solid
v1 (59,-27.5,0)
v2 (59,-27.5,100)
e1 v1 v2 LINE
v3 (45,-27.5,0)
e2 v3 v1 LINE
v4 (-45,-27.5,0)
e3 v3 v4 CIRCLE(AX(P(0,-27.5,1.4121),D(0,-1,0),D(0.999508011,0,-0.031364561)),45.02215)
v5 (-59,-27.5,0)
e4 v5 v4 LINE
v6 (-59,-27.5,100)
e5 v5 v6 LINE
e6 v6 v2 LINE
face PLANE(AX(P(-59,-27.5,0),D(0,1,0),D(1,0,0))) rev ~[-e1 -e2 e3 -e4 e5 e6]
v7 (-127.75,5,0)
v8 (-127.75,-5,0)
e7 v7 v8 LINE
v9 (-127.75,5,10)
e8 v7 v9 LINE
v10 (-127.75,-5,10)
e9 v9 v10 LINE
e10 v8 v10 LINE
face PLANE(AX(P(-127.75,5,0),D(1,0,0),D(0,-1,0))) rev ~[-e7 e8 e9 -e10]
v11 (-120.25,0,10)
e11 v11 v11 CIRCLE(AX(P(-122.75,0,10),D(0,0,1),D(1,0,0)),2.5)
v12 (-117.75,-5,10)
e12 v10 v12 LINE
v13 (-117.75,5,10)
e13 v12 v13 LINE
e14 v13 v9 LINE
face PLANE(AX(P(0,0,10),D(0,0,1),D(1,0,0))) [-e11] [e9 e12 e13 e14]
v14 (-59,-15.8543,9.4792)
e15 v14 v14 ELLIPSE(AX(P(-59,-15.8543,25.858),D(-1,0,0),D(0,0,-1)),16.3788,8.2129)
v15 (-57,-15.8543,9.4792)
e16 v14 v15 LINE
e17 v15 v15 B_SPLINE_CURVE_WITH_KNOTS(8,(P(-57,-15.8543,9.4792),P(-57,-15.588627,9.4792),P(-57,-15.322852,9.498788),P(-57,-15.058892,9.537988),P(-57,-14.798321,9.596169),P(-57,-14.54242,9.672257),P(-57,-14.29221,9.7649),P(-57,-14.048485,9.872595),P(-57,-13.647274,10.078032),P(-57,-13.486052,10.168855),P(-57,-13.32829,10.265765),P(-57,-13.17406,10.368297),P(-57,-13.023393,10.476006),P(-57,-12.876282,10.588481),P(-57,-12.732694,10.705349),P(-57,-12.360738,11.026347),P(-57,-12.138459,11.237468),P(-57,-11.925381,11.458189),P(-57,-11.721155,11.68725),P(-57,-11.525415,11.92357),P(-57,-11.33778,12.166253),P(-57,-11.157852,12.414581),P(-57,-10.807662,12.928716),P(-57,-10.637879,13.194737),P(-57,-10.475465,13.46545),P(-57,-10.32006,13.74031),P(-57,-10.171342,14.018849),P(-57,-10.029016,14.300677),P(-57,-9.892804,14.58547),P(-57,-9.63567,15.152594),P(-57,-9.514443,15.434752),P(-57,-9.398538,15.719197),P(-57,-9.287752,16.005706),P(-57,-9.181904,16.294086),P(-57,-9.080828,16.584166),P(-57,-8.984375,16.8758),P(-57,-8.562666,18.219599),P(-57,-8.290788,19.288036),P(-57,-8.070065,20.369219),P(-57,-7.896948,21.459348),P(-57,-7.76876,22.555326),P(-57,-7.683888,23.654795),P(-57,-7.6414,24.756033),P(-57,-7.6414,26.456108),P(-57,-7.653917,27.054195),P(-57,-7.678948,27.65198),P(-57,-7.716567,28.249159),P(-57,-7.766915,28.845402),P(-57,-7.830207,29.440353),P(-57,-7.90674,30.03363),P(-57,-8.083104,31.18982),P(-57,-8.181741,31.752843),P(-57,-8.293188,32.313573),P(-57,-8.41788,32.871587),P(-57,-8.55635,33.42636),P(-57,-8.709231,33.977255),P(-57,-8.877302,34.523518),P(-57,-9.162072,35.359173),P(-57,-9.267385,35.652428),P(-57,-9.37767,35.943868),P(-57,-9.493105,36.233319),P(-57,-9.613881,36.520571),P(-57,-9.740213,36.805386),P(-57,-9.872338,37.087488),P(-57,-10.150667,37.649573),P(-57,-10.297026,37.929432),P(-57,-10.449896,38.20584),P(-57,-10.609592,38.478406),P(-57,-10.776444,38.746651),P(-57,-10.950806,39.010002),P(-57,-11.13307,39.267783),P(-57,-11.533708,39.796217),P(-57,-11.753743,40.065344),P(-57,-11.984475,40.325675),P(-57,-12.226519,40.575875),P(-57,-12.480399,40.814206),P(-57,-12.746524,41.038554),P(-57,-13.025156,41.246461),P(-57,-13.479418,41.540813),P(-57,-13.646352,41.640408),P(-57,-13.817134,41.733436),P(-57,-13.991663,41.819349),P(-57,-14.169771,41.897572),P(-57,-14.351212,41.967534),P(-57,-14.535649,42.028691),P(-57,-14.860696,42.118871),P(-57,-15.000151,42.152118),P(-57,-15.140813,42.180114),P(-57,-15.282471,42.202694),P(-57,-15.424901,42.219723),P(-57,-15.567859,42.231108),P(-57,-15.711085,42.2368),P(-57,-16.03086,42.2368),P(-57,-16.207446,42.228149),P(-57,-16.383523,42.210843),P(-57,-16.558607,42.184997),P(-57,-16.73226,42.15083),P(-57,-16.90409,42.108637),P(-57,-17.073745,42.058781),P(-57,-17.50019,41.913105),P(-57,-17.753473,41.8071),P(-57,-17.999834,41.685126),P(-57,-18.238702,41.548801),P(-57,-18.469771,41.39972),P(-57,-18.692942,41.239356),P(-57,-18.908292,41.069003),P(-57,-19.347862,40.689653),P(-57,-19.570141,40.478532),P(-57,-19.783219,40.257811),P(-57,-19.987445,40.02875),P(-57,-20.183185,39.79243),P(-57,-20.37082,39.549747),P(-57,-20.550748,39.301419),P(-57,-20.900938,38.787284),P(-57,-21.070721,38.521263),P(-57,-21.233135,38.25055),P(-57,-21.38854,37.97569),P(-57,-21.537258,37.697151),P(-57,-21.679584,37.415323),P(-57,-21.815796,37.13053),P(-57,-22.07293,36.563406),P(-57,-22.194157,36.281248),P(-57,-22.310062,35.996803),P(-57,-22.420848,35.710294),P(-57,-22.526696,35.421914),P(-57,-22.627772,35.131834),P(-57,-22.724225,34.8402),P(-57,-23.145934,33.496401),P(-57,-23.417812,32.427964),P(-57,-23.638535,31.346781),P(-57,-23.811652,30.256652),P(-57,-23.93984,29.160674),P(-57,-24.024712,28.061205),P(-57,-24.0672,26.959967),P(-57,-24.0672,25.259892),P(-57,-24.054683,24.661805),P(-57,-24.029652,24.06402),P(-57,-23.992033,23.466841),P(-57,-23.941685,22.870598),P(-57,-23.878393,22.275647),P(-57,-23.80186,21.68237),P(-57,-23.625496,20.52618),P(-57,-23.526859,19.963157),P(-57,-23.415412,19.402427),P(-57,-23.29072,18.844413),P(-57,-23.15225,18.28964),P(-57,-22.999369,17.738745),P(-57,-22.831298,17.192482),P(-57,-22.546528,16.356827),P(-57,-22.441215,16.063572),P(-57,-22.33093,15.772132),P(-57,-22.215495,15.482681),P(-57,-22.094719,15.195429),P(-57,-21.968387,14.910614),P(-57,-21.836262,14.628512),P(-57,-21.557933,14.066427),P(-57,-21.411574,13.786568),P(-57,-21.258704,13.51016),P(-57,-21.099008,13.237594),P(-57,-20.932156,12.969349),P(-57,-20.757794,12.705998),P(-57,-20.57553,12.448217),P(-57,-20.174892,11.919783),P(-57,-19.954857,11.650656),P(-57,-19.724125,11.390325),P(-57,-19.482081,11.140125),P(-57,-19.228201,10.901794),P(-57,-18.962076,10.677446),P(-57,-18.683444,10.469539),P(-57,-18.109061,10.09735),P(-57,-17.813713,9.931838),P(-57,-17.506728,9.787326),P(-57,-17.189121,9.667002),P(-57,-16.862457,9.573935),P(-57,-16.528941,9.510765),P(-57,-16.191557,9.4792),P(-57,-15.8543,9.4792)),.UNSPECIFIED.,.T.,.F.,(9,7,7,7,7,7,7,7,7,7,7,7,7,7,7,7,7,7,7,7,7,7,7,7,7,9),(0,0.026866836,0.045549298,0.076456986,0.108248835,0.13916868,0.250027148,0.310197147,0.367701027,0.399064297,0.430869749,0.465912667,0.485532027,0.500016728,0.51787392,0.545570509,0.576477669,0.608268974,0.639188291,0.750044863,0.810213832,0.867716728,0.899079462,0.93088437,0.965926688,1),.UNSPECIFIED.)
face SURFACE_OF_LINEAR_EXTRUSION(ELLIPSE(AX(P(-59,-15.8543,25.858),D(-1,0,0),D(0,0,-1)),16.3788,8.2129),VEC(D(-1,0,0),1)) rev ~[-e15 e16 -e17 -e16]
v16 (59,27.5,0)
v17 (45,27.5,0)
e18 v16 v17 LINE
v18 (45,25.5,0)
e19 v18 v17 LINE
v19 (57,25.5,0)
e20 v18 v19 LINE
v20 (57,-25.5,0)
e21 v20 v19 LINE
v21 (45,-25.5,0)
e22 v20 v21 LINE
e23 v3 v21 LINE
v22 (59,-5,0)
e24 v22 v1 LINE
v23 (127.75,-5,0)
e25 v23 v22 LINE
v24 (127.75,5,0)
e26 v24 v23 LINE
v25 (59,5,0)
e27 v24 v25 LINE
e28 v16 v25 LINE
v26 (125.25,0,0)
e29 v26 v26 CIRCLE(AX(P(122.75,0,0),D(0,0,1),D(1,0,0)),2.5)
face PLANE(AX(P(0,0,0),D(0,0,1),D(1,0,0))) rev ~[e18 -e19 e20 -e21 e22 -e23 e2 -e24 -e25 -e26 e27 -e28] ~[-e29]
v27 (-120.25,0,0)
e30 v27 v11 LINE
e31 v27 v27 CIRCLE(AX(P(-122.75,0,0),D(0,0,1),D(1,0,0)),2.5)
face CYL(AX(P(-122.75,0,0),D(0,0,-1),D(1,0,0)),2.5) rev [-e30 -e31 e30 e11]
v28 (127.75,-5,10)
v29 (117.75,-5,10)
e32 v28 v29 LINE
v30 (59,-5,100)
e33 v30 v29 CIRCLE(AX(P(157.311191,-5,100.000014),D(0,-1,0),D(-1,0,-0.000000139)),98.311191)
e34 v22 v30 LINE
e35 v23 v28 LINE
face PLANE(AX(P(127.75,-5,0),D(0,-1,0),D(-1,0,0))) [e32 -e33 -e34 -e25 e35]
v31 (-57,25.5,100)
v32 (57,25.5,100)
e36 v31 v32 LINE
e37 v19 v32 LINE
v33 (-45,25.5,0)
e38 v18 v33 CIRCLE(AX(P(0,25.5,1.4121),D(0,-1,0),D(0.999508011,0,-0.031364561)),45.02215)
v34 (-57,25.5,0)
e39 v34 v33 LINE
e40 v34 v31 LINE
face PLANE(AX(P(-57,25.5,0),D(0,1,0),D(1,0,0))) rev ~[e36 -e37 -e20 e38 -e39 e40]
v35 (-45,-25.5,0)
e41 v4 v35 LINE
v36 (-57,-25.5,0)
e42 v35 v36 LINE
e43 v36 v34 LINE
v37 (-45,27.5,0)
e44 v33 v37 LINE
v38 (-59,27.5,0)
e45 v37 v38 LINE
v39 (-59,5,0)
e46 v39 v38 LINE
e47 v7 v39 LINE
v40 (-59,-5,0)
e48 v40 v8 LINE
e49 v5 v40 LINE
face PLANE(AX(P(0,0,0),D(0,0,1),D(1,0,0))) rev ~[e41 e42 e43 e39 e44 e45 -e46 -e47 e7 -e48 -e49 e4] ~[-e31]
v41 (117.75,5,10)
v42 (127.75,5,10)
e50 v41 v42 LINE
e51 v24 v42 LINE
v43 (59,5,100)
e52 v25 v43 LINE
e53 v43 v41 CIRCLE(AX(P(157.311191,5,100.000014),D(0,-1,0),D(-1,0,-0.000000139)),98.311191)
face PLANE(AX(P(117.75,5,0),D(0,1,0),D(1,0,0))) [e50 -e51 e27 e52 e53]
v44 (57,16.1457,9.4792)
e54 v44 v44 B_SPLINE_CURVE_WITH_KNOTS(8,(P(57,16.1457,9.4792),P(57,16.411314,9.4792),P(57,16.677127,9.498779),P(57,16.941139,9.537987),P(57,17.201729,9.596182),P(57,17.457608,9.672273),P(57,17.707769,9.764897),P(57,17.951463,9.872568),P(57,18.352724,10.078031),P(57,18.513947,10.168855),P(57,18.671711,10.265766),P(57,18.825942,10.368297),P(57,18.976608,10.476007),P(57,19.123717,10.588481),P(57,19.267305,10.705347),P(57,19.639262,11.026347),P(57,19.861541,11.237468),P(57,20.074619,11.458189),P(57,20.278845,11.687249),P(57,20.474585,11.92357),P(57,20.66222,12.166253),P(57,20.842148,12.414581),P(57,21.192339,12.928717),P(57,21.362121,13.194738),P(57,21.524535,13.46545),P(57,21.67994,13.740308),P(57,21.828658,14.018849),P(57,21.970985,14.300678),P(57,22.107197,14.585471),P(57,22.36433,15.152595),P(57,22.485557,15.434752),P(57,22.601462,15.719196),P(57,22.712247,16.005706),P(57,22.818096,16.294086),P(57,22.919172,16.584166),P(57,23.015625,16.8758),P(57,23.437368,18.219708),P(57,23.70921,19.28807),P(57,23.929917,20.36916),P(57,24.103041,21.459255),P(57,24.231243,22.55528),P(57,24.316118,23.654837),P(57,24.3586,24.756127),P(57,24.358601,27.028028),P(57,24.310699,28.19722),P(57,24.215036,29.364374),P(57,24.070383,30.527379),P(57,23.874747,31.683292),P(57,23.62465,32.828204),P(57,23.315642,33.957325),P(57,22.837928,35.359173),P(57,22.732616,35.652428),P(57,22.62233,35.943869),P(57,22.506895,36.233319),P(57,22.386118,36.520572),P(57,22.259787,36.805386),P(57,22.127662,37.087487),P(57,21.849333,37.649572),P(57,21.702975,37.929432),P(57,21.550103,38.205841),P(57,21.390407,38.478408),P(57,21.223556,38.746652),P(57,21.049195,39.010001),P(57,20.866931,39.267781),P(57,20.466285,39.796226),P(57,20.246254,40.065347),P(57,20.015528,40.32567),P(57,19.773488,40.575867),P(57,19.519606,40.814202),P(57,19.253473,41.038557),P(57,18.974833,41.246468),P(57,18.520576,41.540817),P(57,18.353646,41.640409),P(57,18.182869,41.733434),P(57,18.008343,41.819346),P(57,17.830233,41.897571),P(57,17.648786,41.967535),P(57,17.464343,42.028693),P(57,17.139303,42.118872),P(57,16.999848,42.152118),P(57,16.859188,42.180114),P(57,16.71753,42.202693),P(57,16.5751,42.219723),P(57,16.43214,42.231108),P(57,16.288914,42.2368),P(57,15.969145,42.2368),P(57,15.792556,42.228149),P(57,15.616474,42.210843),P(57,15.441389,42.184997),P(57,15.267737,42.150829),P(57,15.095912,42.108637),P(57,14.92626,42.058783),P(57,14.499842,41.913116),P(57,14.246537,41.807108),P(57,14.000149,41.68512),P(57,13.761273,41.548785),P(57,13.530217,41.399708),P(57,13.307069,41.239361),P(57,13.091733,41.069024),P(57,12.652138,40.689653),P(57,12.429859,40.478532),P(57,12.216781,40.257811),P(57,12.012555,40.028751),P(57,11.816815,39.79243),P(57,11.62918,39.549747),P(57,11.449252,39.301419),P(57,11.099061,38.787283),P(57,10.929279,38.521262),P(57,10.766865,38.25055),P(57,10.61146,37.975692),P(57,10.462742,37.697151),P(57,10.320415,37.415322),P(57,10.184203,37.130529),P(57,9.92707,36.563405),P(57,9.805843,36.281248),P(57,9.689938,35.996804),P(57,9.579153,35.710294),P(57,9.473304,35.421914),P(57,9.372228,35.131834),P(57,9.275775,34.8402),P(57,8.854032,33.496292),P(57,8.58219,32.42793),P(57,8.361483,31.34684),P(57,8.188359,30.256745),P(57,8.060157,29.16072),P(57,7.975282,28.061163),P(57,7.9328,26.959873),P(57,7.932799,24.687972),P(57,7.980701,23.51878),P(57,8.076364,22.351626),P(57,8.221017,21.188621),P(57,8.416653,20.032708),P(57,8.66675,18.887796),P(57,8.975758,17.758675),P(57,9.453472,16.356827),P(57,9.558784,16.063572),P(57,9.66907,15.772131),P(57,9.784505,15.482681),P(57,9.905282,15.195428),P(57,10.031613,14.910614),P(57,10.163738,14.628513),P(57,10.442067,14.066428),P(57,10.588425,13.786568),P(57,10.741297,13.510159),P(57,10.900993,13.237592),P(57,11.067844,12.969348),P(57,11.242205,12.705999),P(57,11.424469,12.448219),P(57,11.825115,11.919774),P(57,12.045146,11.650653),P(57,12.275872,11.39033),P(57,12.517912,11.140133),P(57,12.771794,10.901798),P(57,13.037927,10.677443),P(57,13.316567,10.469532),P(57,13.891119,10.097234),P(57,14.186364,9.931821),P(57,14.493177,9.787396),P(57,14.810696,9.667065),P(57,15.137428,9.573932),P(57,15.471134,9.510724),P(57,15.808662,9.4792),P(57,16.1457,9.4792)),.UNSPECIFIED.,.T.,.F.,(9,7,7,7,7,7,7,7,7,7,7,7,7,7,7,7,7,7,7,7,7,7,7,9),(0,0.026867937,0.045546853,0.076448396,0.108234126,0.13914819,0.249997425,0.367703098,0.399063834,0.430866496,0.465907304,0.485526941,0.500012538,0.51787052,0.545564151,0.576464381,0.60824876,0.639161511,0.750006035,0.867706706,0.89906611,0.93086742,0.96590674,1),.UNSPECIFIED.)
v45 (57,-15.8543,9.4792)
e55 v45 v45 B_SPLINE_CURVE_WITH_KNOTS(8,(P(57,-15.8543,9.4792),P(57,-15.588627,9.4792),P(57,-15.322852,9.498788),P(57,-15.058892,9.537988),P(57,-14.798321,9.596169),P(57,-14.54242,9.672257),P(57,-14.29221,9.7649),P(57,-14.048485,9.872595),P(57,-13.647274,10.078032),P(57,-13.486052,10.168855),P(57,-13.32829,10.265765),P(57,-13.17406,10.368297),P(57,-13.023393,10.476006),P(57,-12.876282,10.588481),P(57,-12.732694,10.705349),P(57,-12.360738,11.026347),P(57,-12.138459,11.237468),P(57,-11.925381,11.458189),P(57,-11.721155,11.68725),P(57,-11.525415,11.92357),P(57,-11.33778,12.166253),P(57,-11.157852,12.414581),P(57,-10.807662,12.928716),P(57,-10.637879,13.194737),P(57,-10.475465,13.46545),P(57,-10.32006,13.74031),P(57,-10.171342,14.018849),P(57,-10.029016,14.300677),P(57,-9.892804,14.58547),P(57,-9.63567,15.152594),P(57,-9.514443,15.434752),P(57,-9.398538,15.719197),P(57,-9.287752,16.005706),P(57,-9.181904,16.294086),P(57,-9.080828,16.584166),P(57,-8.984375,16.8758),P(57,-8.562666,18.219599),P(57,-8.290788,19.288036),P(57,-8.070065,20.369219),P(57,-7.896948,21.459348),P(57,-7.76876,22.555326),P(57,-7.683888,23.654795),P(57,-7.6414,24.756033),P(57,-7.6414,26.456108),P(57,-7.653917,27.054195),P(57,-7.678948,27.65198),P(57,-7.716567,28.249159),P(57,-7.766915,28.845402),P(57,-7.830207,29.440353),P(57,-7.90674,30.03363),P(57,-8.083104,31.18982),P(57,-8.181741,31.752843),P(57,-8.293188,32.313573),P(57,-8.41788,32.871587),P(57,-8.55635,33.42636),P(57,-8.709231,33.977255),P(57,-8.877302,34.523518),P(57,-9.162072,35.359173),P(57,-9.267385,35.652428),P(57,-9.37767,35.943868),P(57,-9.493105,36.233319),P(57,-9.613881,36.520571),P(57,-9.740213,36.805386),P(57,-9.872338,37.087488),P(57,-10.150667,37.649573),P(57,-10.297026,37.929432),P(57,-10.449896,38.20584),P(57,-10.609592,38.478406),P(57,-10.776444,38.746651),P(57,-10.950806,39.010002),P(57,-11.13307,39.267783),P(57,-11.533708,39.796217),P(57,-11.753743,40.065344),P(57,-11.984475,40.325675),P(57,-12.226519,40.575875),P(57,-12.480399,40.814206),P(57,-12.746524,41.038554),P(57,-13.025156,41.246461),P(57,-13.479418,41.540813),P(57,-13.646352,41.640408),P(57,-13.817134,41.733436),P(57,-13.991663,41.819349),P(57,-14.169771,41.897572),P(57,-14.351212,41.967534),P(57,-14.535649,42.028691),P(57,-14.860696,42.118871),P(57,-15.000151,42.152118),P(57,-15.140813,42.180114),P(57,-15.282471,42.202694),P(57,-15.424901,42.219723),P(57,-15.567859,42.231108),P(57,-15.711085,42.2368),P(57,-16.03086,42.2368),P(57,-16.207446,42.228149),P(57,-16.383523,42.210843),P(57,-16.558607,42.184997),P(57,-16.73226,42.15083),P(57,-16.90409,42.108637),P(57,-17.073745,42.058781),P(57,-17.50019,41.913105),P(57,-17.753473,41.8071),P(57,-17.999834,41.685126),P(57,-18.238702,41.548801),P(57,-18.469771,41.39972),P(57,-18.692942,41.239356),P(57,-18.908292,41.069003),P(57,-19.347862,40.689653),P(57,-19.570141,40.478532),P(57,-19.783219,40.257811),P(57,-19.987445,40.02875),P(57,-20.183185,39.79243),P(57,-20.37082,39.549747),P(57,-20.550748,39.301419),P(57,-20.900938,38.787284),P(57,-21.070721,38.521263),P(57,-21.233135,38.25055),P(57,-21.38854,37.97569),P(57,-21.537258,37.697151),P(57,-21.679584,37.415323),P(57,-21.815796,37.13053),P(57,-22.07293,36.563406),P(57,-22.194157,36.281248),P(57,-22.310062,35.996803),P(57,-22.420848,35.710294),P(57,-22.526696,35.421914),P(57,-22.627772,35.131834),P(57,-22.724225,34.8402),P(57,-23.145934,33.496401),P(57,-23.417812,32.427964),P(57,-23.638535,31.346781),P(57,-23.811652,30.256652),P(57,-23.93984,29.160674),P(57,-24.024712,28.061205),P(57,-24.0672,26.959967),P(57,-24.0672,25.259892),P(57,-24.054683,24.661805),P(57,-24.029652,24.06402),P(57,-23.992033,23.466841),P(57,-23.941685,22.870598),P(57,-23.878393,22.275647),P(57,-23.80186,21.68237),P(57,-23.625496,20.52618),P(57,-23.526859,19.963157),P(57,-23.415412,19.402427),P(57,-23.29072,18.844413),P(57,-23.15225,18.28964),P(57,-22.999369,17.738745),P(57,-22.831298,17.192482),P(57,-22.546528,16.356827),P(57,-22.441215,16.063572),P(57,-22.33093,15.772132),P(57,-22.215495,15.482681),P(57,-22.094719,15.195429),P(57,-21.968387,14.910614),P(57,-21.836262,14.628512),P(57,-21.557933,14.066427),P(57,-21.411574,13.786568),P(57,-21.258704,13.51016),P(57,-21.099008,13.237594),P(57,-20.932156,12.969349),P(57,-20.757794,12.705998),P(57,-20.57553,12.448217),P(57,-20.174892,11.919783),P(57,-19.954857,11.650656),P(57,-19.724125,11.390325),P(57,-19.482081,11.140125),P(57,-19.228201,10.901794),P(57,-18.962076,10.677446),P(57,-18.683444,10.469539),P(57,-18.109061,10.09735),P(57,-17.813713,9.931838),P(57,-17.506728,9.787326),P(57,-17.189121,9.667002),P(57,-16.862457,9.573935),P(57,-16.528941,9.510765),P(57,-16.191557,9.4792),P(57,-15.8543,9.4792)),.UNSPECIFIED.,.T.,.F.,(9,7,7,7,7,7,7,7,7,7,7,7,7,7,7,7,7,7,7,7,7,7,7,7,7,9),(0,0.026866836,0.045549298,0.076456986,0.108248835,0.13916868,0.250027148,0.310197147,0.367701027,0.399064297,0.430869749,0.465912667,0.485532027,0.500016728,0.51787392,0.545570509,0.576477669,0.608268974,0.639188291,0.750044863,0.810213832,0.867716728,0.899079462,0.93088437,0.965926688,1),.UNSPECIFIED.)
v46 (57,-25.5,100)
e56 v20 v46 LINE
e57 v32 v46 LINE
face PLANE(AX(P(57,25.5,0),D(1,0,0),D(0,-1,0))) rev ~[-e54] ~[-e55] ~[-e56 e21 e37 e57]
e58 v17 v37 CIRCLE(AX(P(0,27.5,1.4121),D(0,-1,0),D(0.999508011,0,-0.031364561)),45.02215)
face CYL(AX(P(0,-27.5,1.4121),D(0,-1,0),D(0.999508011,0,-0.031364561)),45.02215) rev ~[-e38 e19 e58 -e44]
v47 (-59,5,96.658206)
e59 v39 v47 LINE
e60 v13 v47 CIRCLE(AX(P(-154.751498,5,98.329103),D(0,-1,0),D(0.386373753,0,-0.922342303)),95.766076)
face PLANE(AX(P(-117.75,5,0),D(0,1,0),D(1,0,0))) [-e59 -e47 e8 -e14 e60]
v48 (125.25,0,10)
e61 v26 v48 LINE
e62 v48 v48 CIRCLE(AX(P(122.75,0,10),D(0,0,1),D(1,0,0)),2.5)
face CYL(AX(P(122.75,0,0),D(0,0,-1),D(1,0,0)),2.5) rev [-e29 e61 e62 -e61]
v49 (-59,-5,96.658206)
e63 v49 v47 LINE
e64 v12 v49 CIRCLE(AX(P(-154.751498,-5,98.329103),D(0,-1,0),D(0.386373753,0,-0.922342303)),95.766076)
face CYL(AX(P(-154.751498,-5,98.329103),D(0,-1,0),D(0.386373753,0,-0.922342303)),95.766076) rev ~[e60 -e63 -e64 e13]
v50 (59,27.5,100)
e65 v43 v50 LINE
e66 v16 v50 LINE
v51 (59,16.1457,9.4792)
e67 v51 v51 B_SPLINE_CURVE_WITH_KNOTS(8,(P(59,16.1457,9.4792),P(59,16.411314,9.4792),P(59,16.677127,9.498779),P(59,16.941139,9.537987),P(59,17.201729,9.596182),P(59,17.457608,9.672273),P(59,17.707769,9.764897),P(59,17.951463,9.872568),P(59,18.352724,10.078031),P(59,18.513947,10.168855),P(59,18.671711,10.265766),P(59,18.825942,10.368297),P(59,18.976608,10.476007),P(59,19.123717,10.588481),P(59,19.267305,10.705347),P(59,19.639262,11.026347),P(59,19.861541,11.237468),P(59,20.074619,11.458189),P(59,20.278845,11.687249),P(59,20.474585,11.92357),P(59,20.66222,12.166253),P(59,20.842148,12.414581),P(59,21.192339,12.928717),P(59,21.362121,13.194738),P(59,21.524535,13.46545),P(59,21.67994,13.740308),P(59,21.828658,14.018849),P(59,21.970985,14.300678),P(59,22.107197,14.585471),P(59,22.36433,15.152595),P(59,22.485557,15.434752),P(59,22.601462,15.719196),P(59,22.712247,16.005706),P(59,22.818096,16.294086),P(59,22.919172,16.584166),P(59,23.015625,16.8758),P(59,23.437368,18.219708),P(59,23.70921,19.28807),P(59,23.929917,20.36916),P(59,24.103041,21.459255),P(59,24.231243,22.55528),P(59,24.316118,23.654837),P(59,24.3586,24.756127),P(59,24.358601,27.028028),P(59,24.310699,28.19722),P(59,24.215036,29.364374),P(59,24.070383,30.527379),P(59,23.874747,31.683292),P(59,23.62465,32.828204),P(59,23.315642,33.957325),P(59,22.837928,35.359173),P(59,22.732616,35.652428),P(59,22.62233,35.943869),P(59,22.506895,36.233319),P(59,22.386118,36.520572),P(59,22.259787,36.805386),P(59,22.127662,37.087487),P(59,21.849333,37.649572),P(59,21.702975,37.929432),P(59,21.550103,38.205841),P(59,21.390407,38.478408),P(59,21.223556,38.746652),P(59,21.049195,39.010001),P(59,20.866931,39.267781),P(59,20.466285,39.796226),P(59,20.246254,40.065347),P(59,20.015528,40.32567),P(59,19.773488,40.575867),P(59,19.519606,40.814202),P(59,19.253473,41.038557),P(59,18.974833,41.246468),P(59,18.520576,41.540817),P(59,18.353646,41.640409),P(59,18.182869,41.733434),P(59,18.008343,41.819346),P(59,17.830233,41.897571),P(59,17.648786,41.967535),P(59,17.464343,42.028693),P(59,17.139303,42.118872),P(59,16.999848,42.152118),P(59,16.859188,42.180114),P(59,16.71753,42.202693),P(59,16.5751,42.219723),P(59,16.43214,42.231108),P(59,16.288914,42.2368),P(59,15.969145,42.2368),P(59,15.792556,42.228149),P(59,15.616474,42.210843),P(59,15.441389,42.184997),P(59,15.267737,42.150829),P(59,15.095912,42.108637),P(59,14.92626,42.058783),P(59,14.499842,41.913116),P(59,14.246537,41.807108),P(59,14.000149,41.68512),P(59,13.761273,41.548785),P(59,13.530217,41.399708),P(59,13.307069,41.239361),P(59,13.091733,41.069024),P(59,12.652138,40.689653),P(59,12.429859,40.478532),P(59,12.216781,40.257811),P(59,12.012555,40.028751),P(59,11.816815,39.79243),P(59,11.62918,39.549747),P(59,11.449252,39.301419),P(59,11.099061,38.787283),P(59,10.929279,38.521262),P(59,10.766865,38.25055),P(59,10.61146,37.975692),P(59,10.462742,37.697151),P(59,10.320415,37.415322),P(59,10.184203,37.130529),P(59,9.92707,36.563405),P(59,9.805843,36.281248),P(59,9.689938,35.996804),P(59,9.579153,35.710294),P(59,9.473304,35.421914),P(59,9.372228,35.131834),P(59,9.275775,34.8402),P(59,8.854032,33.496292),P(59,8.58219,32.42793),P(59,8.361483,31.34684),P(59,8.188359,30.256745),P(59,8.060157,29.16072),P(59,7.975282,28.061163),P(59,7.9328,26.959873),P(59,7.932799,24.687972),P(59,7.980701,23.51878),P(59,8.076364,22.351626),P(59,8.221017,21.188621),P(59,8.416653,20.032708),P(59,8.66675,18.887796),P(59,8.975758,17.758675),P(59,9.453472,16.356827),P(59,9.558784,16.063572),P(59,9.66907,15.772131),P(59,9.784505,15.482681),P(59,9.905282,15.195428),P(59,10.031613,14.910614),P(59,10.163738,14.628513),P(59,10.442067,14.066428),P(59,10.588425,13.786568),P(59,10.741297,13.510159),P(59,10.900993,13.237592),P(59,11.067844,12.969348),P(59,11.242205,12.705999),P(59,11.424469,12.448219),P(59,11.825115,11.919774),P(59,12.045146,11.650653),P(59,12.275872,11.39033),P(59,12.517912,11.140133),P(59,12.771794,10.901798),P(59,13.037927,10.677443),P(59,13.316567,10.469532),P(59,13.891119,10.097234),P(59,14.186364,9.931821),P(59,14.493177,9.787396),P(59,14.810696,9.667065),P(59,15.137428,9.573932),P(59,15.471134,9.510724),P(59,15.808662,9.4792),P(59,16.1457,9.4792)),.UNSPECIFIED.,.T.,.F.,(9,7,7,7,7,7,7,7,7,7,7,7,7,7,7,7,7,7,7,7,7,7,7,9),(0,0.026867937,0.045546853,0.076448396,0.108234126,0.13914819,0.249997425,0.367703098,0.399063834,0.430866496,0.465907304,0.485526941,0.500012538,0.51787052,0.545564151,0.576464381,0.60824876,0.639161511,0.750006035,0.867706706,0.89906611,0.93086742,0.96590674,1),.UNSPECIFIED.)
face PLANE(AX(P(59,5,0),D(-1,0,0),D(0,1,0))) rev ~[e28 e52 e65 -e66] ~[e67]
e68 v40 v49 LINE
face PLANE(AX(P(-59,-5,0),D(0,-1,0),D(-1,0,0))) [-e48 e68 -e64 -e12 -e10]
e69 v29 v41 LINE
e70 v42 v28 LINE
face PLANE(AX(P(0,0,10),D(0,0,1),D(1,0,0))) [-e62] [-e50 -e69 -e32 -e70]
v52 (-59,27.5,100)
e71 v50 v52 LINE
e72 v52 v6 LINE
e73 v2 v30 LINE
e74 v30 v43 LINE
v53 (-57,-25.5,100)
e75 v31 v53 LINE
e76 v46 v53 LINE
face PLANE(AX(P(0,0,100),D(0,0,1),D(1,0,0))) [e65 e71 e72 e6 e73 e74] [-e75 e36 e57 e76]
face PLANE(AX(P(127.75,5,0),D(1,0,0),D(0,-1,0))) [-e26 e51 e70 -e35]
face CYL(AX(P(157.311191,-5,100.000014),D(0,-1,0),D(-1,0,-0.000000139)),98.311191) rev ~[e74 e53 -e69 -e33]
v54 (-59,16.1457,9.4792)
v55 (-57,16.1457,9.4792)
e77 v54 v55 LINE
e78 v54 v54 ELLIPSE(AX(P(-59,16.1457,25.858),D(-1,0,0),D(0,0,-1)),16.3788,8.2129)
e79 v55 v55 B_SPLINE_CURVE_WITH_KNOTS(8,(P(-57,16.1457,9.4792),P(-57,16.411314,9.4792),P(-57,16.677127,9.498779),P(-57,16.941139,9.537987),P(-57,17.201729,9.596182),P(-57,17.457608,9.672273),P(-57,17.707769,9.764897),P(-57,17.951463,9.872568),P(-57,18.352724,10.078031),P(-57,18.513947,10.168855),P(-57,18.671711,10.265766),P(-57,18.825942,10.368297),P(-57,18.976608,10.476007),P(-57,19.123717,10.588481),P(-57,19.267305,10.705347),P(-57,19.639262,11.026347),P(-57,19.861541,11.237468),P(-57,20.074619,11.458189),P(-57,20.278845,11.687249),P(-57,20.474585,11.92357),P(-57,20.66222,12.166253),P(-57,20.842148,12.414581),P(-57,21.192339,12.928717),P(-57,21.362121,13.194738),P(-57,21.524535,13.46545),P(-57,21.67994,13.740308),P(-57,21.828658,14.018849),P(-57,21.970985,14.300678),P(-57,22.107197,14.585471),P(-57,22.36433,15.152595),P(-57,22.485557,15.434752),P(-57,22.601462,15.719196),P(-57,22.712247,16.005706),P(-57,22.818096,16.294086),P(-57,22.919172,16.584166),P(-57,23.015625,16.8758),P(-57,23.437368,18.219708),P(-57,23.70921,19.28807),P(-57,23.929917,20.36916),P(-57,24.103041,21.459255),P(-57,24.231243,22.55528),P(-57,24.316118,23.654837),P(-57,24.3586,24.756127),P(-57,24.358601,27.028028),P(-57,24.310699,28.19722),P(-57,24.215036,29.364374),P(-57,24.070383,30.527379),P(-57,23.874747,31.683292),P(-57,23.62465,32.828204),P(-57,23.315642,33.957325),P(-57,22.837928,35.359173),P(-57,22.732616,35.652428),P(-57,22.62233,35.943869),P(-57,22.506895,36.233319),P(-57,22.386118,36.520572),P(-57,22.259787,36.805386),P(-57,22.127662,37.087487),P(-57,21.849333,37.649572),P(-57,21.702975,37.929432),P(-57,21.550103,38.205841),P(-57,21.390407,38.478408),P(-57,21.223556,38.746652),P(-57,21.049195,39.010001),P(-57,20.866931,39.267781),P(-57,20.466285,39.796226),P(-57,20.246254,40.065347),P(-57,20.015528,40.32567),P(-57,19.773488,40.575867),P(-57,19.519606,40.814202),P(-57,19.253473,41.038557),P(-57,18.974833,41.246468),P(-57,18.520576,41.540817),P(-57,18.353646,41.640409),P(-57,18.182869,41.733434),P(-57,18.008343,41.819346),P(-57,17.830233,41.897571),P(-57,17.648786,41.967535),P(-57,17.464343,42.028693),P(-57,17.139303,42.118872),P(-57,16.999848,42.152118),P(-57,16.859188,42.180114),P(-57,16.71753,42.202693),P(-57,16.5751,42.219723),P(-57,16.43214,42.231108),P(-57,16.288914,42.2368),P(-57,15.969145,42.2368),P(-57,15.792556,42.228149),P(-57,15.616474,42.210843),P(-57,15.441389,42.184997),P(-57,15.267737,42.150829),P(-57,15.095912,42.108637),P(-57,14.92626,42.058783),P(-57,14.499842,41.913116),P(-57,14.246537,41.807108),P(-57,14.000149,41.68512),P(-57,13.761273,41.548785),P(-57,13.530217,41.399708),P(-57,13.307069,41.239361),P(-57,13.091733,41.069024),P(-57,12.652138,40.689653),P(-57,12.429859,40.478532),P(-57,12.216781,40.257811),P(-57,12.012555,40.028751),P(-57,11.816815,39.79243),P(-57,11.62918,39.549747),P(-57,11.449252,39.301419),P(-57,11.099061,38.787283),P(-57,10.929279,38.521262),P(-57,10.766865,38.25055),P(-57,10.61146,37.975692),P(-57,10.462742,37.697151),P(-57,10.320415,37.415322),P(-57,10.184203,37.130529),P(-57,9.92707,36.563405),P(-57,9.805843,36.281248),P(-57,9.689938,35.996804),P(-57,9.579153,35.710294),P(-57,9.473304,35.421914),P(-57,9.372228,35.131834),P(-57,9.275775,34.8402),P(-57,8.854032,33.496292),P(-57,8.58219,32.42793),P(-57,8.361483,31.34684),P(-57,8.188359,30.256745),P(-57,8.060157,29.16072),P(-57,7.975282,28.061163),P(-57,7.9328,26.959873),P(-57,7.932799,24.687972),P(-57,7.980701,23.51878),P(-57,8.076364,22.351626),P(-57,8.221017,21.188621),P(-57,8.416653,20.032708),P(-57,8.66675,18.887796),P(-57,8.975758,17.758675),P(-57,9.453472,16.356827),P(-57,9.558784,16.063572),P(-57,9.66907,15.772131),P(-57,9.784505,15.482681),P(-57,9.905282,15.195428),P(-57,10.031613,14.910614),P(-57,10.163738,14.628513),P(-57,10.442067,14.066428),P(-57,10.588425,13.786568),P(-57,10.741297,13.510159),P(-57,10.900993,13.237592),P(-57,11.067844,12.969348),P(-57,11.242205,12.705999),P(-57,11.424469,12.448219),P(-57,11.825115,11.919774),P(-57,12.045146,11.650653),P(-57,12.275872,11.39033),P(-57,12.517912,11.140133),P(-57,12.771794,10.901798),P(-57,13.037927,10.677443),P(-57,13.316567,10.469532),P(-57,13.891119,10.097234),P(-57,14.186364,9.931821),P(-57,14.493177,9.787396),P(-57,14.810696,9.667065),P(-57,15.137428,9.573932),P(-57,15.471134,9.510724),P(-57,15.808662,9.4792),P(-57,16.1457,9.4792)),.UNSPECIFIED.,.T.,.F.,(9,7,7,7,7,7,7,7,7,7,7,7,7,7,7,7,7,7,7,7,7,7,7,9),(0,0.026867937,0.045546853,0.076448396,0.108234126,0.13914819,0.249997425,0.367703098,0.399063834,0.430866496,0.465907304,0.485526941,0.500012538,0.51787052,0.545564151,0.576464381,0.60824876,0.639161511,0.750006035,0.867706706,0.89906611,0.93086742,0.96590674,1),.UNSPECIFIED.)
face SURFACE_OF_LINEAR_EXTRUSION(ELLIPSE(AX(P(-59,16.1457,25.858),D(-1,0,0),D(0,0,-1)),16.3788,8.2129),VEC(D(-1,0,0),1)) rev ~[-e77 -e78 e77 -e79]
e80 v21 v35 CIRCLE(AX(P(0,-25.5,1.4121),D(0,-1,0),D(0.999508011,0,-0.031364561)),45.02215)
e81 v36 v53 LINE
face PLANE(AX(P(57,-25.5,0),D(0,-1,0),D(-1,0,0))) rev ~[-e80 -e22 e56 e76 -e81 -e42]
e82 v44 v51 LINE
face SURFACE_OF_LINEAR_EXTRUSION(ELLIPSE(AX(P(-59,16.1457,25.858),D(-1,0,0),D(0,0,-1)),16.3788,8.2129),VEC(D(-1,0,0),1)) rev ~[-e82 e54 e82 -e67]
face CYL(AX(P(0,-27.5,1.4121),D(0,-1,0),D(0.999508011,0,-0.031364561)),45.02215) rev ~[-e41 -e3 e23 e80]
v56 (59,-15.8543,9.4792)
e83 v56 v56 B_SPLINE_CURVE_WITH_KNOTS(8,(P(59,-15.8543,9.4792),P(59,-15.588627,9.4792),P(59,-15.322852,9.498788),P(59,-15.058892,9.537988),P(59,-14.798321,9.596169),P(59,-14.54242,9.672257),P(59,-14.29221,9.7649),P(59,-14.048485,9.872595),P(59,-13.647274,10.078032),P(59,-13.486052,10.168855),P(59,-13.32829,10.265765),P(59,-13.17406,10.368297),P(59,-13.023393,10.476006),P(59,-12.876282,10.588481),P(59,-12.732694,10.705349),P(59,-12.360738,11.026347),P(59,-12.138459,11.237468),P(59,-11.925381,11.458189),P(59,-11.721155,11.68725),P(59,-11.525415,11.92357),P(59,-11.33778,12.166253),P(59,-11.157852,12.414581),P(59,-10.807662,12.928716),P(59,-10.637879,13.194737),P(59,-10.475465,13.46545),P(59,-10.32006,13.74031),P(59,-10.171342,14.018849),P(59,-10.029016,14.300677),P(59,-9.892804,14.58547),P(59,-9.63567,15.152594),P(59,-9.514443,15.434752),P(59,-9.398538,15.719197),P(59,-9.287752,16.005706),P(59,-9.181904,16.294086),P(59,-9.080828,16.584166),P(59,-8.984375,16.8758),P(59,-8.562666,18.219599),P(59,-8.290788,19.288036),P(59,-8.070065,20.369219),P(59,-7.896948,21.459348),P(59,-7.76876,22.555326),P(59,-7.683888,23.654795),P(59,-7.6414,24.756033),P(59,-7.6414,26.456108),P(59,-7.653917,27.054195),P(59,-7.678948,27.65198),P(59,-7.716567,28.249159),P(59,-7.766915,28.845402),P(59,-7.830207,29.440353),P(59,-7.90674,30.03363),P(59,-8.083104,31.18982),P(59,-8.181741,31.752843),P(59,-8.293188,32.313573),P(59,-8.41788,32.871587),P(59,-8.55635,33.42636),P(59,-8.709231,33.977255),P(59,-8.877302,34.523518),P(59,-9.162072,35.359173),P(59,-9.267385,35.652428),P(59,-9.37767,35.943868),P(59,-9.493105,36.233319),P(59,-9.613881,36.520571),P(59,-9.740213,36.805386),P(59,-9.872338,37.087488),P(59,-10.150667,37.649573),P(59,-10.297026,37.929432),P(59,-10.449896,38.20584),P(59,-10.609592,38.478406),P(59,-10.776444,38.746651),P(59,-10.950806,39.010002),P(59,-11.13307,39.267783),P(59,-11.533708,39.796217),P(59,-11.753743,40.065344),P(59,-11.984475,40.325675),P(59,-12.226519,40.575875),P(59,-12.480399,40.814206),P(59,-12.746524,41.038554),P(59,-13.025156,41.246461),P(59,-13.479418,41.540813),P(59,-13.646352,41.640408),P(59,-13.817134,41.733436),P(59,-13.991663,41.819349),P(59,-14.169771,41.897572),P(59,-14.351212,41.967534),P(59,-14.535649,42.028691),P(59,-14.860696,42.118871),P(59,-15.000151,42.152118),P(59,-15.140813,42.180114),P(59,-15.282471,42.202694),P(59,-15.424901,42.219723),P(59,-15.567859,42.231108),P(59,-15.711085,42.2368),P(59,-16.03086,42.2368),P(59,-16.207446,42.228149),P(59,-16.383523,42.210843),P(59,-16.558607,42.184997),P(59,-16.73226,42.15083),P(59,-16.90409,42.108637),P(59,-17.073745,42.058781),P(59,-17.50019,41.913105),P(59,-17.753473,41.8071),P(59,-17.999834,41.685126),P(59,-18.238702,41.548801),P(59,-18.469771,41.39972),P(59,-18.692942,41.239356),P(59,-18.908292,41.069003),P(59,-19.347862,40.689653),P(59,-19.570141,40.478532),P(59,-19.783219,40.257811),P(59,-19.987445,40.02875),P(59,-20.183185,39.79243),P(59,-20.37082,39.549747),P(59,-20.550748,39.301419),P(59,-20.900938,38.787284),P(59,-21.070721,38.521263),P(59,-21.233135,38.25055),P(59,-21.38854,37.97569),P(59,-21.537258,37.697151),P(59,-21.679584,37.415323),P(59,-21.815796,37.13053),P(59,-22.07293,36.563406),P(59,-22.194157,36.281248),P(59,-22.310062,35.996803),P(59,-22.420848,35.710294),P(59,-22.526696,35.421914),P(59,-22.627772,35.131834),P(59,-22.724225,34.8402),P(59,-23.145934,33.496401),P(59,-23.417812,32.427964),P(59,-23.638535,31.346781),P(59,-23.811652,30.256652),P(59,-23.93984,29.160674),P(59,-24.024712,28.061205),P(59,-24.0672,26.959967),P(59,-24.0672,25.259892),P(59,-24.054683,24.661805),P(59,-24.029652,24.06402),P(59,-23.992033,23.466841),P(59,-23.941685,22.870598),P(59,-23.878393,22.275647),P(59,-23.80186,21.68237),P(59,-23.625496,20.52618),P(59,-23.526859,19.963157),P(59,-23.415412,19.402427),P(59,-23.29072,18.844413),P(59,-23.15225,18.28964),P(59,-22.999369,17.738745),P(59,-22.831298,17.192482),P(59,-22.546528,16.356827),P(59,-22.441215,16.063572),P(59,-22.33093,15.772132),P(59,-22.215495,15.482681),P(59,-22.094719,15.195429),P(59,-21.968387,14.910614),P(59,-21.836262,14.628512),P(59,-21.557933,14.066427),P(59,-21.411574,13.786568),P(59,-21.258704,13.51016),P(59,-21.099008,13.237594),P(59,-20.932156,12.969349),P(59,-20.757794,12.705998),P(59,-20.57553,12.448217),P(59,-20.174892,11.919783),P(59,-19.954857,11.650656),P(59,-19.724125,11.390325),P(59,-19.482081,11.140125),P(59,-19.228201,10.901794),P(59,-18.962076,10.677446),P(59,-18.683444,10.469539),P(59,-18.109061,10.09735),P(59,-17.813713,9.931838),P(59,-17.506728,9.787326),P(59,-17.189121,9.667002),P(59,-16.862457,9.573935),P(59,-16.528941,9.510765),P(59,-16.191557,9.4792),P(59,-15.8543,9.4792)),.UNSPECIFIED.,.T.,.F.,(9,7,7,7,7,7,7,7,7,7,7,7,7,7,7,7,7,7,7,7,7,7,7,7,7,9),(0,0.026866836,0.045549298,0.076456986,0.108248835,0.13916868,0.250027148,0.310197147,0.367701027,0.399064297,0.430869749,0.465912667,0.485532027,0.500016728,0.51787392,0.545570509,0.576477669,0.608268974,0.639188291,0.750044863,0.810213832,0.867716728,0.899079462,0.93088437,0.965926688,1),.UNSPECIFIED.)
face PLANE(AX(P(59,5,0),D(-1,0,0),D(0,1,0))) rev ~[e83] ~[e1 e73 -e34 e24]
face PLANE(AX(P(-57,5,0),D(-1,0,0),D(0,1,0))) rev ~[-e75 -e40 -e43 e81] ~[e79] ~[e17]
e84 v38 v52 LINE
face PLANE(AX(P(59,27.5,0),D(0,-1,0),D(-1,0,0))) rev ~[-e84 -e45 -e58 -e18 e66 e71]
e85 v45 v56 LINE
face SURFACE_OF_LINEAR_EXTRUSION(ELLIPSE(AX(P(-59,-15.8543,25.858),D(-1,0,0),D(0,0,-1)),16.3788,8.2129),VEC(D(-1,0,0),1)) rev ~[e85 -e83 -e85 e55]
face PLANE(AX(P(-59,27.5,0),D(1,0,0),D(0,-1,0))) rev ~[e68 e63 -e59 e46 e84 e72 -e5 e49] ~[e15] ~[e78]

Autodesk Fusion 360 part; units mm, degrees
sketch "Sketch1" plane through (0, 0, 0) normal (0, 0, 1) x (1, 0, 0)
  line L0 (0, 0) -> (-122.75, 0) construction
  line L1 (0, 0) -> (0, 25.25) construction
  line L2 (0, 0) -> (122.75, 0) construction
  line L3 (0, 0) -> (0, -25.25) construction
  circle A0 centre (-122.75, 0) radius 2.5
  circle A1 centre (122.75, 0) radius 2.5
  line L4 (-57, 25.5) -> (57, 25.5)
  line L5 (57, 25.5) -> (57, -25.5)
  line L6 (57, -25.5) -> (-57, -25.5)
  line L7 (-57, -25.5) -> (-57, 25.5)
  line L8 (-57, 25.5) -> (57, -25.5) construction
  line L9 (57, 25.5) -> (-57, -25.5) construction
  line L10 (-117.75, 5) -> (-127.75, 5)
  line L11 (-127.75, 5) -> (-127.75, -5)
  line L12 (-127.75, -5) -> (-117.75, -5)
  line L13 (-117.75, -5) -> (-117.75, 5)
  line L14 (-117.75, 5) -> (-127.75, -5) construction
  line L15 (-127.75, 5) -> (-117.75, -5) construction
  line L16 (-117.75, 5) -> (-57, 5)
  line L17 (-57, 5) -> (-57, -5)
  line L18 (-57, -5) -> (-117.75, -5)
  line L19 (-117.75, -5) -> (-117.75, 5)
  line L20 (117.75, -5) -> (117.75, 5)
  line L21 (127.75, 5) -> (127.75, -5)
  line L22 (117.75, 5) -> (127.75, -5) construction
  line L23 (117.75, -5) -> (117.75, 5)
  line L24 (127.75, 5) -> (117.75, -5) construction
  line L25 (127.75, -5) -> (117.75, -5)
  line L26 (117.75, 5) -> (127.75, 5)
  circle A2 centre (122.75, 0) radius 2.5
  line L27 (117.75, 5) -> (57, 5)
  line L28 (57, -5) -> (117.75, -5)
  line L29 (59, 27.5) -> (-59, 27.5)
  line L30 (-59, 27.5) -> (-59, -27.5)
  line L31 (-59, -27.5) -> (59, -27.5)
  line L32 (59, -27.5) -> (59, 27.5)
  line L33 (59, 27.5) -> (-59, -27.5) construction
  line L34 (-59, 27.5) -> (59, -27.5) construction
  point P0 (-122.75, 0)
  point P1 (122.75, 0)
  point P2 (122.75, 0)
  dimension "d1" = 122.75
  dimension "d2" = 25.25
  dimension "d3" = 5
  dimension "d4" = 114
  dimension "d5" = 51
  dimension "d6" = 10
  dimension "d7" = 10
  dimension "d8" = 10
  dimension "d19" = 118
  dimension "d20" = 55
extrude "Extrude2" add sketch "Sketch1" along normal blind 10 contours L10 L11 L12 L13 L19 | L20 L21 L23 L25 L26 makes body 1 at (125.2469, -0.1246, 6.6667) makes body 2 at (-120.2531, -0.1246, 6.6667)
sketch "Sketch2" plane through (0, 5, 0) normal (0, 1, 0) x (-1, 0, 0)
  line L0 (117.75, 0) -> (127.75, 0)
  line L1 (127.75, 0) -> (127.75, 10)
  line L2 (127.75, 10) -> (117.75, 10)
  arc A0 (57, 100) -> (117.75, 10) centre (154.0417, 100) ccw
  line L3 (117.75, 10) -> (117.75, 0)
sketch "Sketch3" plane through (0, 5, 0) normal (0, 1, 0) x (-1, 0, 0)
  line L0 (-127.75, 0) -> (-117.75, 0)
  line L1 (-117.75, 10) -> (-127.75, 10)
  line L2 (-127.75, 10) -> (-127.75, 0)
  arc A0 (-117.75, 10) -> (-57, 100) centre (-154.0417, 100) ccw
  line L3 (-117.75, 0) -> (-117.75, 10)
extrude "Extrude7" add sketch "Sketch1" along normal blind 100 separate body contours L4 L5 L7 L16 L27 L29 L30 L32 | L7 L16 L17 L18 L30 | L5 L27 L28 L32 | L5 L6 L7 L18 L28 L30 L31 L32 makes body 3
extrude "Extrude8" add sketch "Sketch1" along normal blind 100 contours L13 L16 L18 L19 L30 | L20 L23 L27 L28 L32 bodies 1 2 3
sketch "Sketch4" plane through (0, -5, 0) normal (0, -1, 0) x (1, 0, 0)
  line L0 (-127.75, 0) -> (-59, 0)
  line L1 (-59, 0) -> (-59, 100)
  line L2 (-59, 100) -> (-117.75, 100)
  line L3 (-117.75, 100) -> (-117.75, 10)
  line L4 (-117.75, 10) -> (-127.75, 10)
  line L5 (-127.75, 10) -> (-127.75, 0)
  arc A0 (-117.75, 10) -> (-59, 100) centre (-154.7515, 98.3291) ccw
sketch "Sketch5" plane through (0, -5, 0) normal (0, -1, 0) x (1, 0, 0)
  line L0 (59, 0) -> (127.75, 0)
  line L1 (127.75, 0) -> (127.75, 10)
  line L2 (127.75, 10) -> (117.75, 10)
  line L3 (117.75, 10) -> (117.75, 100)
  line L4 (117.75, 100) -> (59, 100)
  line L5 (59, 100) -> (59, 0)
  arc A0 (59, 100) -> (117.75, 10) centre (157.3112, 100) ccw
extrude "Extrude9" cut sketch "Sketch5" sketch "Sketch4" against normal blind 35 contours L3 L4 A0 of sketch 2 contours L1 L2 L3 A0 bodies 1
sketch "Sketch6" plane through (0, -27.5, 0) normal (0, -1, 0) x (1, 0, 0)
  line L0 (-59, 0) -> (59, 0)
  line L1 (59, 0) -> (59, 100)
  line L2 (59, 100) -> (-59, 100)
  line L3 (-59, 100) -> (-59, 0)
  line L4 (-45, 0) -> (45, 0) construction
  line L5 (45, 0) -> (45, 37.4909) construction
  line L6 (45, 37.4909) -> (-45, 37.4909) construction
  line L7 (-45, 37.4909) -> (-45, 0) construction
  line L8 (-45, 0) -> (45, 37.4909) construction
  line L9 (45, 0) -> (-45, 37.4909) construction
  arc A0 (45, 0) -> (-45, 0) centre (0, 1.4121) ccw
  point P0 (0, 18.7455)
  dimension "d29" = 90
extrude "Extrude10" cut sketch "Sketch6" against normal blind 95 contours L0 A0 bodies 1
sketch "Sketch7" plane through (-59, 0, 0) normal (-1, 0, 0) x (0, -1, 0)
  line L0 (-27.5, 100) -> (-27.5, 0)
  line L1 (-27.5, 0) -> (-5, 0)
  line L2 (-5, 0) -> (-5, 96.6583)
  line L3 (-5, 96.6583) -> (5, 96.6583)
  line L4 (5, 96.6583) -> (5, 0)
  line L5 (5, 0) -> (27.5, 0)
  line L6 (27.5, 0) -> (27.5, 100)
  line L7 (27.5, 100) -> (-27.5, 100)
  ellipse E0 centre (-16.1457, 25.858) end of major axis (-16.1457, 9.4792) minor radius 8.2129
  line L8 (-16.1457, 42.2368) -> (-16.1457, 9.4792) construction
  line L9 (-24.3586, 25.858) -> (-7.9328, 25.858) construction
  ellipse E1 centre (15.8543, 25.858) end of major axis (15.8543, 9.4792) minor radius 8.2129
  line L10 (15.8543, 42.2368) -> (15.8543, 9.4792) construction
  line L11 (7.6414, 25.858) -> (24.0672, 25.858) construction
  point P0 (-16.1457, 25.858)
extrude "Extrude11" cut sketch "Sketch7" against normal blind 145 contours E0 | E1 bodies 1
equation "d1 = ( 245.5 / 2 ) * 1 mm"
